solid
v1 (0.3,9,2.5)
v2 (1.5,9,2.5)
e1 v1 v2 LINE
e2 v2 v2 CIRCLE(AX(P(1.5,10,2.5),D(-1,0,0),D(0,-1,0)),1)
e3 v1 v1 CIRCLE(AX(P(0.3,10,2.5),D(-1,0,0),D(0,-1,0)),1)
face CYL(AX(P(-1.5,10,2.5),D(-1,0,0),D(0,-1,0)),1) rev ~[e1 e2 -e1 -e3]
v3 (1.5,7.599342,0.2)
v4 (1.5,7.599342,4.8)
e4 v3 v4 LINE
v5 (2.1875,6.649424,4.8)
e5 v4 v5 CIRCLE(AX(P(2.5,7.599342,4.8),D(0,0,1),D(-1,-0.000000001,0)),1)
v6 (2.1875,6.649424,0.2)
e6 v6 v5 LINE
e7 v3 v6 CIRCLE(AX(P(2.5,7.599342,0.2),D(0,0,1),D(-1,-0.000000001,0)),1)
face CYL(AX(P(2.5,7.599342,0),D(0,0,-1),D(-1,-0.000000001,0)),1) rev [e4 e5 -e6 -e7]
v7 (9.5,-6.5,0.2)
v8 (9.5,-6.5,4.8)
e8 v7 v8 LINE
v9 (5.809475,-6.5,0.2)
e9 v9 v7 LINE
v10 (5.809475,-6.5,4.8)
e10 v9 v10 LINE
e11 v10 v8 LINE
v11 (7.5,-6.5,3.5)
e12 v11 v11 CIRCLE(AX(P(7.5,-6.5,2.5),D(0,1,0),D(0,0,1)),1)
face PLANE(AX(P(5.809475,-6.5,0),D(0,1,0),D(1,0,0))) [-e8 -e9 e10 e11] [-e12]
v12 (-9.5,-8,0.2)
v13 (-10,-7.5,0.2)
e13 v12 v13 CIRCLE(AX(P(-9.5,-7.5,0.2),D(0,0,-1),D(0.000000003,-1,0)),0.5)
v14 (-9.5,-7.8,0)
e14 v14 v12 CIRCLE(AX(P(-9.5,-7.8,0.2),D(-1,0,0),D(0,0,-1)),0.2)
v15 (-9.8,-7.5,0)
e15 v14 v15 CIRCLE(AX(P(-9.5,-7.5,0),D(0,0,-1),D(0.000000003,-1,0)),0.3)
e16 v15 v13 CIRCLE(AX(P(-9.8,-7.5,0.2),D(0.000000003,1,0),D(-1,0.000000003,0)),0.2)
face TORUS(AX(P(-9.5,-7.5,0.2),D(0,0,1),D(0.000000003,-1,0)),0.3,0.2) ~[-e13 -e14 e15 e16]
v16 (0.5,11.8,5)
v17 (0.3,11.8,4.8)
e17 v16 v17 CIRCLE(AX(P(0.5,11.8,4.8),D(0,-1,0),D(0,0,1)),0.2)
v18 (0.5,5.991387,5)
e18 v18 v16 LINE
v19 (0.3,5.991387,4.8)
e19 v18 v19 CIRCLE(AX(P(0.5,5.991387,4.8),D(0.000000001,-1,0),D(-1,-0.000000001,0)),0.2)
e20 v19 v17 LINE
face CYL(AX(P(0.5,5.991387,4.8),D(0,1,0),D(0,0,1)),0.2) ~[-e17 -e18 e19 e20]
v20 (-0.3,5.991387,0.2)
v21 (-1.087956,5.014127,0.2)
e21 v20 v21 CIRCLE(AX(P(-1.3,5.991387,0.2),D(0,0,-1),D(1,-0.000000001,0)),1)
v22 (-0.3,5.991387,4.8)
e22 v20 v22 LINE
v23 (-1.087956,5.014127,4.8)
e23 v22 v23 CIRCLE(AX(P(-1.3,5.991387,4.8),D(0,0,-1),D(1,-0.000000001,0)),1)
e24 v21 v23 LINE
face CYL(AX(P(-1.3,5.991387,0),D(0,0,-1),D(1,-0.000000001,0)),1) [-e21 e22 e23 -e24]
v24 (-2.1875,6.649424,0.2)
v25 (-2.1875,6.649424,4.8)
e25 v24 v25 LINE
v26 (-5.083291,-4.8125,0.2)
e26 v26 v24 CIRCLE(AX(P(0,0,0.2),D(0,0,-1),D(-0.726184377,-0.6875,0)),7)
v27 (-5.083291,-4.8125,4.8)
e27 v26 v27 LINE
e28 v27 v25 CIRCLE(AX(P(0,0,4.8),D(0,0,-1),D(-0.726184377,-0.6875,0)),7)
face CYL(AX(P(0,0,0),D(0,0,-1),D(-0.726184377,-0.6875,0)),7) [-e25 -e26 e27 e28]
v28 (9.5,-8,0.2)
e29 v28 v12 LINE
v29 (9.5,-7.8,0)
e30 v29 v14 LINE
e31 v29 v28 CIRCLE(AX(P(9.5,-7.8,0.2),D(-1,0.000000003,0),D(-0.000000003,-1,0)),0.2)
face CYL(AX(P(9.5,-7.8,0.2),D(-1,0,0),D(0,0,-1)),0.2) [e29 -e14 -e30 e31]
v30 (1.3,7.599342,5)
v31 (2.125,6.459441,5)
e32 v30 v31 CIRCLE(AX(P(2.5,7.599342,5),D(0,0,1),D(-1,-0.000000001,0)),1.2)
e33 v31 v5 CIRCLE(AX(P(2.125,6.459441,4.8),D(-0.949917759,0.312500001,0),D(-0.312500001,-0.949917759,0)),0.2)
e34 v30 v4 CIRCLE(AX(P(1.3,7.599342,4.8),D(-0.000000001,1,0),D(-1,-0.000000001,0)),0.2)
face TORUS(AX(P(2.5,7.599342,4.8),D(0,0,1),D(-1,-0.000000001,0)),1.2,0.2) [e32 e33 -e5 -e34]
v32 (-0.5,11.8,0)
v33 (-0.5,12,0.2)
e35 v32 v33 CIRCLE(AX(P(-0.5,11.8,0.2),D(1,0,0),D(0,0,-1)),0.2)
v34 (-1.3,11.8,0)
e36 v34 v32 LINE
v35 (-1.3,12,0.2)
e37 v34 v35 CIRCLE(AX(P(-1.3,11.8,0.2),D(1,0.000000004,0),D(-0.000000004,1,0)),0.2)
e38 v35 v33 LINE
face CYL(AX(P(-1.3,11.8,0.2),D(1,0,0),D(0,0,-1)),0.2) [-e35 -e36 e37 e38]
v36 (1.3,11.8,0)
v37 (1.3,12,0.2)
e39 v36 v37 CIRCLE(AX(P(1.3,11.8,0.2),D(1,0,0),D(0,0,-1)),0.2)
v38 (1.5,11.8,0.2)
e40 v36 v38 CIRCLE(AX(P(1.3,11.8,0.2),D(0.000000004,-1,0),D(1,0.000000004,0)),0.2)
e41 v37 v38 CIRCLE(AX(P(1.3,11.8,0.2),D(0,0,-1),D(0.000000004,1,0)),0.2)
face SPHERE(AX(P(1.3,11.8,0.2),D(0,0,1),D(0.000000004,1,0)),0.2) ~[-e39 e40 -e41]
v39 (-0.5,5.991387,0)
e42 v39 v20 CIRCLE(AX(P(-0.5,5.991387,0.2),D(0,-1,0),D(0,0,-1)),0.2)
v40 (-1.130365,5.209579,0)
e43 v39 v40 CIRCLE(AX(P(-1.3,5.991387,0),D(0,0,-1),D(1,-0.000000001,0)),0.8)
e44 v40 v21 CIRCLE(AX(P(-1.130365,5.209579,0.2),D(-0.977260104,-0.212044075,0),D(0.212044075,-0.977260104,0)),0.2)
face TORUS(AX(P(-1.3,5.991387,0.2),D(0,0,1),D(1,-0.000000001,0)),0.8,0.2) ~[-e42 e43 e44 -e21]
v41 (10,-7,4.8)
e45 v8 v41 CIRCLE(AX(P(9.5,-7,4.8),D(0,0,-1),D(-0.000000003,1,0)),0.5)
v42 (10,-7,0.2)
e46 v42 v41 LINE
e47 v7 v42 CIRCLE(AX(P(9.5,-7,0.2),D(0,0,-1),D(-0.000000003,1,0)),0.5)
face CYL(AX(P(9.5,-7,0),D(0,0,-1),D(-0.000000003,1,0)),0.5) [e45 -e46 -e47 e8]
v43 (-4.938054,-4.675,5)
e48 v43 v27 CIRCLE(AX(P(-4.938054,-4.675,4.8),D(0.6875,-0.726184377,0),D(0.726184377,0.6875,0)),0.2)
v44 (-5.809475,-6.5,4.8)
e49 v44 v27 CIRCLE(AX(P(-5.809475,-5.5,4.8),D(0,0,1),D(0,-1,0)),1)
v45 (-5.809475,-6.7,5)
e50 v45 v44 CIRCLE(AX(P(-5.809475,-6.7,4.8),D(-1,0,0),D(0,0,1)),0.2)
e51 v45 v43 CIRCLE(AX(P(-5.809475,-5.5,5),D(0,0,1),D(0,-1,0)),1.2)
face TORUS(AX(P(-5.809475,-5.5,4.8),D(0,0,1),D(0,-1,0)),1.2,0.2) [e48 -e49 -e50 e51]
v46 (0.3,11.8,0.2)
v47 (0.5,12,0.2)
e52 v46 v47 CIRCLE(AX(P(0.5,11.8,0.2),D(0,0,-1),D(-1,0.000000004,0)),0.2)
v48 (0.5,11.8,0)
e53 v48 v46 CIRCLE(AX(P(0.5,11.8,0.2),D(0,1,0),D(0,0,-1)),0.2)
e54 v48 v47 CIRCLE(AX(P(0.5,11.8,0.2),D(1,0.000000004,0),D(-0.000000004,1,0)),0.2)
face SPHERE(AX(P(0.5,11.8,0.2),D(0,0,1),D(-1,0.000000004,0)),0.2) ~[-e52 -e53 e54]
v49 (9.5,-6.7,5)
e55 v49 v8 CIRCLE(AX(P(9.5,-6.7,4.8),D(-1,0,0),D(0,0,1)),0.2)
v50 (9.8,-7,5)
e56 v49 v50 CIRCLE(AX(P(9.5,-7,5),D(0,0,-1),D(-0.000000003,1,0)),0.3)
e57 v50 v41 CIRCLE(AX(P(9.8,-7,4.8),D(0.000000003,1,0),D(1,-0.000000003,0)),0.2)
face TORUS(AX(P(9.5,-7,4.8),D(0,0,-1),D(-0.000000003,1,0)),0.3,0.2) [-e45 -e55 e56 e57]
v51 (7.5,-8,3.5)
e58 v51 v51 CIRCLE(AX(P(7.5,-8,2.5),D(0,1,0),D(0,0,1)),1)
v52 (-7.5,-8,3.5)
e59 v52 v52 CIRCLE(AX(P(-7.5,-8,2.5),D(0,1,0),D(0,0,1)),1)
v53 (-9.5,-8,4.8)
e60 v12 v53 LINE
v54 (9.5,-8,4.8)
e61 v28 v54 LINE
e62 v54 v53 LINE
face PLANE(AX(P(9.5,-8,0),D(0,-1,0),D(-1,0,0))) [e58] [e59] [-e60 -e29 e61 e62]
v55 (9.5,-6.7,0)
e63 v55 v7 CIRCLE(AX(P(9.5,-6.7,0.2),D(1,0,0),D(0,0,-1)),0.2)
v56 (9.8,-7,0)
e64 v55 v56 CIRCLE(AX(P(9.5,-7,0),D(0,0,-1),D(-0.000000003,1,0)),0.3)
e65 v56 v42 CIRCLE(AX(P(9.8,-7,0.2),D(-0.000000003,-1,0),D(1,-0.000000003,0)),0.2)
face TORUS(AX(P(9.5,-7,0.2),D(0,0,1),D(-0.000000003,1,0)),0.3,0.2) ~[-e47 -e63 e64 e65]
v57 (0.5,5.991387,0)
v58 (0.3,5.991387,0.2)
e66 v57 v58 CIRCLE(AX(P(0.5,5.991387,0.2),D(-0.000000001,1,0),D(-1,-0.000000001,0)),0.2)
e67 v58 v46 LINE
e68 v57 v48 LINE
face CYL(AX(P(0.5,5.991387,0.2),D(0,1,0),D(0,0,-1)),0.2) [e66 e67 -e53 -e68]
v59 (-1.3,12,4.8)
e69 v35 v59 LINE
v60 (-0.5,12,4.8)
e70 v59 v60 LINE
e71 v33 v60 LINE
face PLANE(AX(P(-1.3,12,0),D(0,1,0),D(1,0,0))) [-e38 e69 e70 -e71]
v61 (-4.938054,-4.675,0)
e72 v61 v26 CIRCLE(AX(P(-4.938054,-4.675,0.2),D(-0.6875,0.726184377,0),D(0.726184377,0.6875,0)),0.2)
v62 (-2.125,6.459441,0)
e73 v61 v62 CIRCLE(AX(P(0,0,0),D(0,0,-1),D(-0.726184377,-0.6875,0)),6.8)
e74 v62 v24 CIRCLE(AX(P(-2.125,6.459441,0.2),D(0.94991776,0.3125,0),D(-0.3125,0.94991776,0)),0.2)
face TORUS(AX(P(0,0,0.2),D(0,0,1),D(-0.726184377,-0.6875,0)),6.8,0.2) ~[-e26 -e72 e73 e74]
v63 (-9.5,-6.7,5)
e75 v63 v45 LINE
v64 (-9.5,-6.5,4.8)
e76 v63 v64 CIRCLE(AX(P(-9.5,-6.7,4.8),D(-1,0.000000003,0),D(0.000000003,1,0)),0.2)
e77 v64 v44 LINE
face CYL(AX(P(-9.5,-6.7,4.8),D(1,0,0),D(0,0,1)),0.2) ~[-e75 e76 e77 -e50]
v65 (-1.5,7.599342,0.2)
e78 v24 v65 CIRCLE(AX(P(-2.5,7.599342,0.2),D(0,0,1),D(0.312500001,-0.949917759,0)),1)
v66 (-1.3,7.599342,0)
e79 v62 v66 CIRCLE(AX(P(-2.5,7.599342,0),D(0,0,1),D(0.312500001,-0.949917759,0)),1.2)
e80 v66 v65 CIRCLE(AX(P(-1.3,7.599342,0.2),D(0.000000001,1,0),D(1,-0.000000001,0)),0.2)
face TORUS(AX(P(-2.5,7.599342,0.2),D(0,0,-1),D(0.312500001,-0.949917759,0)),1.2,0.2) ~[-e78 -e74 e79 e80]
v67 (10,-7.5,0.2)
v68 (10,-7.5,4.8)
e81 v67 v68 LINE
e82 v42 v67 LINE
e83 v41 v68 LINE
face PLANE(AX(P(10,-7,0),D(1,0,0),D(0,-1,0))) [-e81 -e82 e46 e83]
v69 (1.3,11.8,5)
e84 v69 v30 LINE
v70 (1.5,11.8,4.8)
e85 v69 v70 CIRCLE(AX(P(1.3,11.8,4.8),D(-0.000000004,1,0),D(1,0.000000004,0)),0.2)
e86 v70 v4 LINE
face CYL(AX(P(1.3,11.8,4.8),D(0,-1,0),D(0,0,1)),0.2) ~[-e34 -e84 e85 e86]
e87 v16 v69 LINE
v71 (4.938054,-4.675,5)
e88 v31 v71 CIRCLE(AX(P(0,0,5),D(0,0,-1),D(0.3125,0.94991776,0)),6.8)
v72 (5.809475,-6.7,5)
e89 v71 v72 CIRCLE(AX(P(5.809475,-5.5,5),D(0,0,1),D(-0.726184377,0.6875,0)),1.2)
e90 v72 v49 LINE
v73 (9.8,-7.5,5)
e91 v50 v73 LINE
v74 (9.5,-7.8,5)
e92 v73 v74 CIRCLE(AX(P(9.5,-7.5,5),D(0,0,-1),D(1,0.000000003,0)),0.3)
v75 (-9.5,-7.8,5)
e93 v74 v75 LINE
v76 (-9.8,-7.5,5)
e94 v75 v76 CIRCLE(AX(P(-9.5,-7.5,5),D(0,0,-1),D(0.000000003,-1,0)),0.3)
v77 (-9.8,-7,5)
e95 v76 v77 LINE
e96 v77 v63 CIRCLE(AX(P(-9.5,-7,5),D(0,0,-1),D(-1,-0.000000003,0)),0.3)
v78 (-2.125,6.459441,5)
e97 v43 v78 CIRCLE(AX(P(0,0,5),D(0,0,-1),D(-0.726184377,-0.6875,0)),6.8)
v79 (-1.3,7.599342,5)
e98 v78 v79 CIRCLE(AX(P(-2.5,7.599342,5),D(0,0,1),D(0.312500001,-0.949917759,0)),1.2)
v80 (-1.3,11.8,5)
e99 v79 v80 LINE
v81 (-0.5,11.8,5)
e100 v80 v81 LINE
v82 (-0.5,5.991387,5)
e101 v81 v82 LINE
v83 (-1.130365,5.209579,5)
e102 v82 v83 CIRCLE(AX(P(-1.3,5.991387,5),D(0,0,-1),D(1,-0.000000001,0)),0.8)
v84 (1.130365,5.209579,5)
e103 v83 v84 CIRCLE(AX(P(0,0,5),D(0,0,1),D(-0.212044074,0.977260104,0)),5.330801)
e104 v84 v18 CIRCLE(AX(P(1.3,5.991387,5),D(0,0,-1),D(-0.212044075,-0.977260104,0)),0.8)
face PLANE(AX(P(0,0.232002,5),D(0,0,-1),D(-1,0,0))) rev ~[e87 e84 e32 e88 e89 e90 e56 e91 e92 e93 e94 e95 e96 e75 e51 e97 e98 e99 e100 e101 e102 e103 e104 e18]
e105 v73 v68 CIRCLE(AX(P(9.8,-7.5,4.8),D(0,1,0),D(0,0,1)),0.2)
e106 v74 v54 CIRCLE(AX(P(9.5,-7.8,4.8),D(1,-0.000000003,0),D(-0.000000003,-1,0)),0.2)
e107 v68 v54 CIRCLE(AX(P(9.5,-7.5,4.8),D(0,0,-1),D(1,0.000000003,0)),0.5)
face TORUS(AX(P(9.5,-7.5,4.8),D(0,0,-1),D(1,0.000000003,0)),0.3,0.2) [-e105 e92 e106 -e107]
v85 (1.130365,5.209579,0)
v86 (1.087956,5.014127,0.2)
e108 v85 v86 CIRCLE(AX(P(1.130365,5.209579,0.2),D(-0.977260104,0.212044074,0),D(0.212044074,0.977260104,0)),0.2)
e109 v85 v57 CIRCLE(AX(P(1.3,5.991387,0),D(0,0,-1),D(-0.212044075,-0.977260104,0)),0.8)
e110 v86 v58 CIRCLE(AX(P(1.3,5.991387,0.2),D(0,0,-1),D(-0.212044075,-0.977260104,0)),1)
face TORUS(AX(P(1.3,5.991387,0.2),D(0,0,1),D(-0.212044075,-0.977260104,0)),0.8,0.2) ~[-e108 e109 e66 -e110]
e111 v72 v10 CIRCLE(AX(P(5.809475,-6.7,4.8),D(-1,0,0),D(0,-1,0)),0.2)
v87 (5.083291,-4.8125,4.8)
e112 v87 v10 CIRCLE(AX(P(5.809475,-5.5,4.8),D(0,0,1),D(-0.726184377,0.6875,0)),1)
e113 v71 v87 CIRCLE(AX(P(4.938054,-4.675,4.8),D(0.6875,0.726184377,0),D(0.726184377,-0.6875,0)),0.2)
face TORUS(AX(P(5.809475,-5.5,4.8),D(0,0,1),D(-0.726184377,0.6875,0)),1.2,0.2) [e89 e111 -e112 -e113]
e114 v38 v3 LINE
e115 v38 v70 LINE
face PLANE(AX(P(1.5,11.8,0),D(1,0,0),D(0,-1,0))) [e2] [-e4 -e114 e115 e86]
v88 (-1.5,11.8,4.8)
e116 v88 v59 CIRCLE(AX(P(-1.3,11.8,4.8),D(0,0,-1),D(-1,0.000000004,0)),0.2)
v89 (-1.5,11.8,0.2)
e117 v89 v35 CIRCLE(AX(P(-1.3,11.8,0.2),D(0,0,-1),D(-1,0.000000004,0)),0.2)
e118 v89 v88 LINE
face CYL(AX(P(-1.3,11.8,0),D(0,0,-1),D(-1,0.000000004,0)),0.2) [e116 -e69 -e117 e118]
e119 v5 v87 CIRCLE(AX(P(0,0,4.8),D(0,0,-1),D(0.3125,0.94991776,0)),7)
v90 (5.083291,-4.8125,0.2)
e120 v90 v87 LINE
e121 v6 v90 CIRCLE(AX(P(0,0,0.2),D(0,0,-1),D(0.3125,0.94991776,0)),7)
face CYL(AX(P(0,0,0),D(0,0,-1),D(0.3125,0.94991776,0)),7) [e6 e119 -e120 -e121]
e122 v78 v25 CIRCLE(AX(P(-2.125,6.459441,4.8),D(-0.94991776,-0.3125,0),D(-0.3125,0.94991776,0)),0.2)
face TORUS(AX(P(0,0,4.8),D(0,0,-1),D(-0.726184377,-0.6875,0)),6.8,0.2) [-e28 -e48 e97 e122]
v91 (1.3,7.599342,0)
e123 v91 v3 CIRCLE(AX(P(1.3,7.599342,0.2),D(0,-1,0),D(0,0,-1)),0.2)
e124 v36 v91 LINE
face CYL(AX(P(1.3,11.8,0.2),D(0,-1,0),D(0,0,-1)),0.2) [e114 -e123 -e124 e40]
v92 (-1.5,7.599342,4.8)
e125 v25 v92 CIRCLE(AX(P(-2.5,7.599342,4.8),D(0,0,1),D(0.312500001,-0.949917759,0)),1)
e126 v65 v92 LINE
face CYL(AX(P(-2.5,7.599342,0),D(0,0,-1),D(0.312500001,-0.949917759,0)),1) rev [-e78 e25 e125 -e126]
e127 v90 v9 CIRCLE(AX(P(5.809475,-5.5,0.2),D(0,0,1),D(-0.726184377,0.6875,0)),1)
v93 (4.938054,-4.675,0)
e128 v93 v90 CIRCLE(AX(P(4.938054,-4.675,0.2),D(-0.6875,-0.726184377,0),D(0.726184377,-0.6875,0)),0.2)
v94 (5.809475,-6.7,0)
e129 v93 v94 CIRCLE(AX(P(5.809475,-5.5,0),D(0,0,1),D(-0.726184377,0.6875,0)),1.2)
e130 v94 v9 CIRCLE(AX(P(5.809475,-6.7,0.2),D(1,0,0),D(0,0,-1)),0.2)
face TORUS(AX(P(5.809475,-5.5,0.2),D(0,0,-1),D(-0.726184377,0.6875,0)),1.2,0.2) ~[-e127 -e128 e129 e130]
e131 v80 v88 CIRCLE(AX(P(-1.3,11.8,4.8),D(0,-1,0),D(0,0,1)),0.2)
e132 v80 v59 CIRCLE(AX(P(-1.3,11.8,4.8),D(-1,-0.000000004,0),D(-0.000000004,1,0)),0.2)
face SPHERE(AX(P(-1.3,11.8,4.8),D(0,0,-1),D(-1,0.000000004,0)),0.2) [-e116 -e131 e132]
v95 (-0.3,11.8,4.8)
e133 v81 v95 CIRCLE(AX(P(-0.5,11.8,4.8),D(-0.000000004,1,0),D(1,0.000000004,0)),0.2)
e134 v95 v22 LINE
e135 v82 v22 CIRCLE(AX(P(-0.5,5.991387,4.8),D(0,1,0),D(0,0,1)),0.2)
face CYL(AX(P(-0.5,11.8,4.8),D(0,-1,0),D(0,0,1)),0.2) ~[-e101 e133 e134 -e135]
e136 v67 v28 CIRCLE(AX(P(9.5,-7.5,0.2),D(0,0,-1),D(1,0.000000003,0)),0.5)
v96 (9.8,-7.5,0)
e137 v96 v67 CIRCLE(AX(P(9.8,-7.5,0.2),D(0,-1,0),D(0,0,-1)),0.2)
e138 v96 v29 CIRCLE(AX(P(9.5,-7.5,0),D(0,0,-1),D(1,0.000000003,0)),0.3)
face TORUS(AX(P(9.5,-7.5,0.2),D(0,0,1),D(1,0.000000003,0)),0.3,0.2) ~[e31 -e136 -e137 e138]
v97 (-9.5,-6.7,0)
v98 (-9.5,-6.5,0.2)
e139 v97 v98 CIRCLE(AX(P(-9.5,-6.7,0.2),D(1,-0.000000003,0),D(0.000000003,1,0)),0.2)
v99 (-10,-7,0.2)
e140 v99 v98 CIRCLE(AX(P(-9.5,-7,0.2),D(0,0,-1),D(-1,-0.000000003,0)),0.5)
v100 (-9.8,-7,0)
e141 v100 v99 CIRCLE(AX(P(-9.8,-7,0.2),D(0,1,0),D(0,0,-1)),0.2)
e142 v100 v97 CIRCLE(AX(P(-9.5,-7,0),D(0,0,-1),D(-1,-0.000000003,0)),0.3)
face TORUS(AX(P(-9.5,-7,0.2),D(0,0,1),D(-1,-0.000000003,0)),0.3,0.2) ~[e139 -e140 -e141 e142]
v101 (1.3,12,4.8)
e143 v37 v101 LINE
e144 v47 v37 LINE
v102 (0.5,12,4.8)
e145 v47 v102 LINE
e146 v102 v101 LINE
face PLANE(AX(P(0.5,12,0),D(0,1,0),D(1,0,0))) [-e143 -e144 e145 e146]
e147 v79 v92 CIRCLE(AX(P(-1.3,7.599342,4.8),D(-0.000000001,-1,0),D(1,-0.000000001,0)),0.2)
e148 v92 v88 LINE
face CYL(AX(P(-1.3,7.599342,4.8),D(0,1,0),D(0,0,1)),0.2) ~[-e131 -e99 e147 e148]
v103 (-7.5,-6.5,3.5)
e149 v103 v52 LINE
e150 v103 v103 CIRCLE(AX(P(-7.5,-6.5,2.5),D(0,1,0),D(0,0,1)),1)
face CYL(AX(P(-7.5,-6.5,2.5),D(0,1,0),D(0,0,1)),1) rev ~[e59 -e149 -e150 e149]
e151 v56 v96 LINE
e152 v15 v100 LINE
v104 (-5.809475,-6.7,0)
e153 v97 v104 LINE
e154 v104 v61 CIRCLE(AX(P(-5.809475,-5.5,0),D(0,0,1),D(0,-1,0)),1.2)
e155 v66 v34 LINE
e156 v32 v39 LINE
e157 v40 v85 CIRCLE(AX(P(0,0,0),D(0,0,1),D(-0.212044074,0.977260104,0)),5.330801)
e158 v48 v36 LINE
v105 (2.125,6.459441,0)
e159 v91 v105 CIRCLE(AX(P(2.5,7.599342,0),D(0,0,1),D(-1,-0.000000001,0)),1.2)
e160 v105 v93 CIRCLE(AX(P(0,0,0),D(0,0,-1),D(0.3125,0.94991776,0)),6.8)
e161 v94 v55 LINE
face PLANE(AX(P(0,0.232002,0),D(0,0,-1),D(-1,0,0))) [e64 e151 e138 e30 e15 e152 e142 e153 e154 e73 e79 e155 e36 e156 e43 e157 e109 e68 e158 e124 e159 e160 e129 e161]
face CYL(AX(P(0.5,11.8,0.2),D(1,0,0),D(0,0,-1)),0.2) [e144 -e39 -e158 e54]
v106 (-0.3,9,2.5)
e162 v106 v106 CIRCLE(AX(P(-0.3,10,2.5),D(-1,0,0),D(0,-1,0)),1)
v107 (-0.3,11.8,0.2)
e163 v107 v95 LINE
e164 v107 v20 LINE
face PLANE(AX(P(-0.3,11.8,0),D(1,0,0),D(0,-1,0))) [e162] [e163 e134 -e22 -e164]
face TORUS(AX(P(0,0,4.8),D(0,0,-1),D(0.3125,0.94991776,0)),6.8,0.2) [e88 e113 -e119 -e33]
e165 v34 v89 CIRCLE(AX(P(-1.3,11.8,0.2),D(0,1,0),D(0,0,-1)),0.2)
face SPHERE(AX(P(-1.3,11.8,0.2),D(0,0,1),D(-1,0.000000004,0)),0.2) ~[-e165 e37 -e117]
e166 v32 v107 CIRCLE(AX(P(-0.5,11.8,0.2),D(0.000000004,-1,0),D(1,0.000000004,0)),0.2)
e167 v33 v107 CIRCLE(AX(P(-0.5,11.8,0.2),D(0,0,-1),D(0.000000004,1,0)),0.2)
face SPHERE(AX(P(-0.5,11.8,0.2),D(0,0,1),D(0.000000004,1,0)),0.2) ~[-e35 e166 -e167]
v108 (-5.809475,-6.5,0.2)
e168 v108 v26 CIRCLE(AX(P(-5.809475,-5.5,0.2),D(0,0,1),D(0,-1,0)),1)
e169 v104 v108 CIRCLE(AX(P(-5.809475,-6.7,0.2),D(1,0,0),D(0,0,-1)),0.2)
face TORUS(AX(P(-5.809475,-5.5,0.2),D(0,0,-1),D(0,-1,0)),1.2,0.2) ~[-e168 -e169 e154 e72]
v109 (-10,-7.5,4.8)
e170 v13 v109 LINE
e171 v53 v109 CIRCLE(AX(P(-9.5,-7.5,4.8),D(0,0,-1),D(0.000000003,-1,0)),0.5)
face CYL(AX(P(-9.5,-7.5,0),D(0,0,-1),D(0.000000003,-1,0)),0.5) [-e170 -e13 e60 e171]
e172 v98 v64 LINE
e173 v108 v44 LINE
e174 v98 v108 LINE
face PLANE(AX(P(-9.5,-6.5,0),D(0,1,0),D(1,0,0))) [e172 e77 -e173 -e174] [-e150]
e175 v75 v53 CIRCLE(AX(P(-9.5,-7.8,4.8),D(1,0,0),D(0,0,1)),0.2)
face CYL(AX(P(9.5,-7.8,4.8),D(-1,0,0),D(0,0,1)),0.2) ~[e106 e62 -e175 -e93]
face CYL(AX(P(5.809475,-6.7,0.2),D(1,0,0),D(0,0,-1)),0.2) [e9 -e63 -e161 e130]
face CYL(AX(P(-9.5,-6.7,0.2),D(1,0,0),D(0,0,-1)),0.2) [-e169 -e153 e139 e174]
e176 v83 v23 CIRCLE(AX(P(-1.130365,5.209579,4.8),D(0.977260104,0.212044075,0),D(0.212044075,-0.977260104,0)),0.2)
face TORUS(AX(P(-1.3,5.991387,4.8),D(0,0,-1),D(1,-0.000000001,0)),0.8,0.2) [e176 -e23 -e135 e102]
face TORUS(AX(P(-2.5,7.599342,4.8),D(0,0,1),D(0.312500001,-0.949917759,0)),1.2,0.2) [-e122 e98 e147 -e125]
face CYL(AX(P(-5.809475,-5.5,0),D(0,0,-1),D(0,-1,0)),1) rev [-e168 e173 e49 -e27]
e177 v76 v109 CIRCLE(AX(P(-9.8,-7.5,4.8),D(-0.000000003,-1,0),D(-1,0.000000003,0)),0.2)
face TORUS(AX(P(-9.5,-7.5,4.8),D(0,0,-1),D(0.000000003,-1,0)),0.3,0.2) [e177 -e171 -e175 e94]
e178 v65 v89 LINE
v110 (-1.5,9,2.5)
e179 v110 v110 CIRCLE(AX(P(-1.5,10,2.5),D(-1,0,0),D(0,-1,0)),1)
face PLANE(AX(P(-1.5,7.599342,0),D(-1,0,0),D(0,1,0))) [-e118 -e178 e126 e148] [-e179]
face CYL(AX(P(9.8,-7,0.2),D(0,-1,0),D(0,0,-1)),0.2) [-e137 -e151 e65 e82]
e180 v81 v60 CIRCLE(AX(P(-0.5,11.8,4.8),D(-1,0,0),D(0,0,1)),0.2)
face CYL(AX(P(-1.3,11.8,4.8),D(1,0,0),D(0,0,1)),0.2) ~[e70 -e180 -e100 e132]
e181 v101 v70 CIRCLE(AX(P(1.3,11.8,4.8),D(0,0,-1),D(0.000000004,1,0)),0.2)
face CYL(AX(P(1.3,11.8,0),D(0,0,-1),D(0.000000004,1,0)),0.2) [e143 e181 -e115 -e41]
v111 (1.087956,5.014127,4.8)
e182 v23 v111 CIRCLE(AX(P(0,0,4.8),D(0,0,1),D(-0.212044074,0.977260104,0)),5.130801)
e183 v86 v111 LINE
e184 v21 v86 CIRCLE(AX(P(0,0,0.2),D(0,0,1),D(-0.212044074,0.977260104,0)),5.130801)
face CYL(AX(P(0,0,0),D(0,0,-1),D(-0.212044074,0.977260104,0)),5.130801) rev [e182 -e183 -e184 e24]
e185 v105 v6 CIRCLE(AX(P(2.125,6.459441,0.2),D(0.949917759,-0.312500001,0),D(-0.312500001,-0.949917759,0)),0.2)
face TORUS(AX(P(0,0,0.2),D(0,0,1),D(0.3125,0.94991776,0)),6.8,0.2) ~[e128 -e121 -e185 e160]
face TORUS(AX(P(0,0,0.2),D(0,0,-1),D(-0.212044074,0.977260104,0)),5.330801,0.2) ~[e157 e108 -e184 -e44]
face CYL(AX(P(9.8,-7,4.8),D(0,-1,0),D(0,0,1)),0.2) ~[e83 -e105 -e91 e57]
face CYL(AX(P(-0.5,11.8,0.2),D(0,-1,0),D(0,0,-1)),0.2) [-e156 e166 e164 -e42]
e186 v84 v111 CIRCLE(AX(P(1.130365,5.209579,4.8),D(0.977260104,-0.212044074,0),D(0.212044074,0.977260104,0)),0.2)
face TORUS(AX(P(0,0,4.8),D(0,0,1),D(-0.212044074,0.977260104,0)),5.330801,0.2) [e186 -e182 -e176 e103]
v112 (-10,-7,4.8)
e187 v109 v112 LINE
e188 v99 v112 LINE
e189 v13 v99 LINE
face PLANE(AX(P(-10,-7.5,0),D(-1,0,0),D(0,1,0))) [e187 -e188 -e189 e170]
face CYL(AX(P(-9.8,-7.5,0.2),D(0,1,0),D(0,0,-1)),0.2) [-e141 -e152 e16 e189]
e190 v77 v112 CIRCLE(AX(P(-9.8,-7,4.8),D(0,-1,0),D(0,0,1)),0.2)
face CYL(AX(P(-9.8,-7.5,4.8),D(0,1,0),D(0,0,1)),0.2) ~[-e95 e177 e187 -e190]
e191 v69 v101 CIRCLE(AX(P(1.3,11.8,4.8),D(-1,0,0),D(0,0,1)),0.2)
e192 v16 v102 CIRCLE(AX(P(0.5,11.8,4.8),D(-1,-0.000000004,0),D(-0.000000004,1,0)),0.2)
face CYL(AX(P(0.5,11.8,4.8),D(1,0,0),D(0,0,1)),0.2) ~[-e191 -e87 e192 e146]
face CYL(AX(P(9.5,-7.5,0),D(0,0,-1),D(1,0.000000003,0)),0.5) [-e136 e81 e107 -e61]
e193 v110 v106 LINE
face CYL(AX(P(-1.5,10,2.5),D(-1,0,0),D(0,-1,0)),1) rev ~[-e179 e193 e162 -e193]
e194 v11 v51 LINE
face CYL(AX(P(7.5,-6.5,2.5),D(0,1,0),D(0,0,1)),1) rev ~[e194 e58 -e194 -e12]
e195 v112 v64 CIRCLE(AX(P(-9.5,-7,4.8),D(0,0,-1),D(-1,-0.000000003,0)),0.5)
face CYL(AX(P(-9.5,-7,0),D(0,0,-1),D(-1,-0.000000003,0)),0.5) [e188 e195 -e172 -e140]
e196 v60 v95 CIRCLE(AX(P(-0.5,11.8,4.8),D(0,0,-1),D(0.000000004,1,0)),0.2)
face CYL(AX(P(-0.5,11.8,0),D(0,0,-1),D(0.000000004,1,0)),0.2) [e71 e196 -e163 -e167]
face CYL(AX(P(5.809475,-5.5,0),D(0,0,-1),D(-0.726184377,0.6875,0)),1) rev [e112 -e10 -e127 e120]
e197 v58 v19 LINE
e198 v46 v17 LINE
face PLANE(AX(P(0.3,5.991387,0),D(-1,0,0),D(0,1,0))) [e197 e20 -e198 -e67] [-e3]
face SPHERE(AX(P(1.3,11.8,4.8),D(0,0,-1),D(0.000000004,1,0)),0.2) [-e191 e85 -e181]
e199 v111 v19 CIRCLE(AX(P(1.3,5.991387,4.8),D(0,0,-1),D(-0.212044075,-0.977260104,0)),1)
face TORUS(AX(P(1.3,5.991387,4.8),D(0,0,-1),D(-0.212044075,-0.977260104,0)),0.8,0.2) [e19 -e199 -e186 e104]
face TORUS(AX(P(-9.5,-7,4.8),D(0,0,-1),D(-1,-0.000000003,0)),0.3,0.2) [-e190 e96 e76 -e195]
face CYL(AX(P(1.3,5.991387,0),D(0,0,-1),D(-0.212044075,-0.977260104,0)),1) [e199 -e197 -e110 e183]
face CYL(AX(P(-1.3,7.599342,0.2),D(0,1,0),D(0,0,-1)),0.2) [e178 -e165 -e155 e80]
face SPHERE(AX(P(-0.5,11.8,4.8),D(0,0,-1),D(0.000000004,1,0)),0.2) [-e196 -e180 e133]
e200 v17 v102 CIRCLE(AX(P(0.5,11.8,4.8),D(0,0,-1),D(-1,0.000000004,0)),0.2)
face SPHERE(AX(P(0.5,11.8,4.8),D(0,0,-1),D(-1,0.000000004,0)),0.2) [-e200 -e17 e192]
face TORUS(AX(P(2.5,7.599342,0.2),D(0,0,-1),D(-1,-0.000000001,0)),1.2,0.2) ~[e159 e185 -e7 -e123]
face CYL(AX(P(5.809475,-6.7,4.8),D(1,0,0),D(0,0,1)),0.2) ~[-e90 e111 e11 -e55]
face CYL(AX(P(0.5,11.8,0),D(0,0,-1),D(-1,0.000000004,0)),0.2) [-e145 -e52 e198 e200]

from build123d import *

# Parameters (mm, degrees)
EXTRUDE_1_DEPTH     = 5
CUT_EXTRUDE_1_REACH = 23.616
SKETCH_3_R          = 1
CUT_EXTRUDE_2_REACH = 19.357
SKETCH_4_R          = 1
FILLET_2_R          = 0.2


with BuildPart() as part:
    # 草图1 → 凸台-拉伸1 (new body)
    with BuildSketch(Plane.XY):
        with BuildLine():
            Line((-9.5, -6.5), (-5.809475019, -6.5))
            ThreePointArc((-5.809475019, -6.5), (-4.890916366, -5.895284708), (-5.083290642, -4.8125))
            ThreePointArc((-5.083290642, -4.8125), (-6.786753746, 1.714635121), (-2.1875, 6.649424317))
            ThreePointArc((-2.1875, 6.649424317), (-1.689907413, 7.013040107), (-1.5, 7.599342077))
            Line((-1.5, 7.599342077), (-1.5, 11.8))
            ThreePointArc((-1.5, 11.8), (-1.441421356, 11.941421356), (-1.3, 12))
            Line((-1.3, 12), (-0.5, 12))
            ThreePointArc((-0.5, 12), (-0.358578644, 11.941421356), (-0.3, 11.8))
            Line((-0.3, 11.8), (-0.3, 5.991387134))
            ThreePointArc((-0.3, 5.991387134), (-0.521525828, 5.363710495), (-1.087955926, 5.01412703))
            ThreePointArc((-1.087955926, 5.01412703), (0, -5.130800909), (1.087955926, 5.01412703))
            ThreePointArc((1.087955926, 5.01412703), (0.521525828, 5.363710495), (0.3, 5.991387134))
            Line((0.3, 5.991387134), (0.3, 11.8))
            ThreePointArc((0.3, 11.8), (0.358578644, 11.941421356), (0.5, 12))
            Line((0.5, 12), (1.3, 12))
            ThreePointArc((1.3, 12), (1.441421356, 11.941421356), (1.5, 11.8))
            Line((1.5, 11.8), (1.5, 7.599342077))
            ThreePointArc((1.5, 7.599342077), (1.689907413, 7.013040107), (2.1875, 6.649424317))
            ThreePointArc((2.1875, 6.649424317), (6.786753746, 1.714635121), (5.083290642, -4.8125))
            ThreePointArc((5.083290642, -4.8125), (4.890916366, -5.895284708), (5.809475019, -6.5))
            Line((5.809475019, -6.5), (9.5, -6.5))
            ThreePointArc((9.5, -6.5), (9.853553391, -6.646446609), (10, -7))
            Line((10, -7), (10, -7.5))
            ThreePointArc((10, -7.5), (9.853553391, -7.853553391), (9.5, -8))
            Line((9.5, -8), (-9.5, -8))
            ThreePointArc((-9.5, -8), (-9.853553391, -7.853553391), (-10, -7.5))
            Line((-10, -7.5), (-10, -7))
            ThreePointArc((-10, -7), (-9.853553391, -6.646446609), (-9.5, -6.5))
        make_face()
    extrude(amount=EXTRUDE_1_DEPTH)

    # 草图3 → 切除-拉伸1 (cut, up to next)
    with BuildSketch(Plane(origin=(0, -6.5, 0), x_dir=(1, 0, 0), z_dir=(0, 1, 0)), mode=Mode.PRIVATE) as cut_extrude_1_sk1:
        with Locations(Location((-7.5, -2.5, 0), (0, 0, 270))):
            Circle(SKETCH_3_R)
    cut_extrude_1_tool1 = extrude(cut_extrude_1_sk1.sketch, amount=-CUT_EXTRUDE_1_REACH, mode=Mode.PRIVATE) & part.part
    # 草图3 → 切除-拉伸1 (cut, up to next)
    with BuildSketch(Plane(origin=(0, -6.5, 0), x_dir=(1, 0, 0), z_dir=(0, 1, 0)), mode=Mode.PRIVATE) as cut_extrude_1_sk2:
        with Locations(Location((7.5, -2.5, 0), (0, 0, 270))):
            Circle(SKETCH_3_R)
    cut_extrude_1_tool2 = extrude(cut_extrude_1_sk2.sketch, amount=-CUT_EXTRUDE_1_REACH, mode=Mode.PRIVATE) & part.part
    add(cut_extrude_1_tool1.solids().sort_by_distance((-7.5, -6.5, 2.5))[0], mode=Mode.SUBTRACT)
    add(cut_extrude_1_tool2.solids().sort_by_distance((7.5, -6.5, 2.5))[0], mode=Mode.SUBTRACT)

    # 切除-拉伸2: up to this face of the body (flat: up to its plane)
    cut_extrude_2_end = Plane(part.part.faces().sort_by_distance((1.5, 9.699671038, 2.5))[0])
    # 草图4 → 切除-拉伸2 (cut, up to the picked face)
    with BuildSketch(Plane.ZY.offset(1.5), mode=Mode.PRIVATE) as cut_extrude_2_sk1:
        with Locations(Location((2.5, 10, 0), (0, 0, 270))):
            Circle(SKETCH_4_R)
    cut_extrude_2_tool1 = split(extrude(cut_extrude_2_sk1.sketch, amount=-CUT_EXTRUDE_2_REACH, mode=Mode.PRIVATE), bisect_by=cut_extrude_2_end, keep=Keep.BOTH, mode=Mode.PRIVATE)
    add(cut_extrude_2_tool1.solids().sort_by(Axis((-1.5, 10, 2.5), (1, 0, 0)))[0], mode=Mode.SUBTRACT)

    # 圆角2
    fillet_2_edges = [part.edges().sort_by_distance(p)[0] for p in [
        (1.689907413, 7.013040107, 5),
        (1.5, 9.699671038, 5),
        (1.441421356, 11.941421356, 5),
        (0.9, 12, 5),
        (0.358578644, 11.941421356, 5),
        (7.65473751, -6.5, 0),
        (9.853553391, -6.646446609, 0),
        (10, -7.25, 0),
        (9.853553391, -7.853553391, 0),
        (0.3, 8.895693567, 5),
        (0, -8, 0),
        (-9.853553391, -7.853553391, 0),
        (-10, -7.25, 0),
        (-9.853553391, -6.646446609, 0),
        (-7.65473751, -6.5, 0),
        (-4.890916366, -5.895284708, 0),
        (-6.786753746, 1.714635121, 0),
        (0.521525828, 5.363710495, 5),
        (-1.689907413, 7.013040107, 0),
        (-1.5, 9.699671038, 0),
        (-1.441421356, 11.941421356, 0),
        (-0.9, 12, 0),
        (-0.358578644, 11.941421356, 0),
        (-0.3, 8.895693567, 0),
        (-0.521525828, 5.363710495, 0),
        (0, -5.130800909, 0),
        (0, -5.130800909, 5),
        (0.521525828, 5.363710495, 0),
        (0.3, 8.895693567, 0),
        (0.358578644, 11.941421356, 0),
        (0.9, 12, 0),
        (1.441421356, 11.941421356, 0),
        (1.5, 9.699671038, 0),
        (1.689907413, 7.013040107, 0),
        (-0.521525828, 5.363710495, 5),
        (6.786753746, 1.714635121, 0),
        (4.890916366, -5.895284708, 0),
        (-0.3, 8.895693567, 5),
        (4.890916366, -5.895284708, 5),
        (-0.358578644, 11.941421356, 5),
        (-0.9, 12, 5),
        (-1.441421356, 11.941421356, 5),
        (-1.5, 9.699671038, 5),
        (-1.689907413, 7.013040107, 5),
        (-6.786753746, 1.714635121, 5),
        (-4.890916366, -5.895284708, 5),
        (-7.65473751, -6.5, 5),
        (-9.853553391, -6.646446609, 5),
        (-10, -7.25, 5),
        (6.786753746, 1.714635121, 5),
        (-9.853553391, -7.853553391, 5),
        (0, -8, 5),
        (9.853553391, -7.853553391, 5),
        (10, -7.25, 5),
        (9.853553391, -6.646446609, 5),
        (7.65473751, -6.5, 5),
    ]]
    fillet(fillet_2_edges, radius=FILLET_2_R)


solid = part.part
